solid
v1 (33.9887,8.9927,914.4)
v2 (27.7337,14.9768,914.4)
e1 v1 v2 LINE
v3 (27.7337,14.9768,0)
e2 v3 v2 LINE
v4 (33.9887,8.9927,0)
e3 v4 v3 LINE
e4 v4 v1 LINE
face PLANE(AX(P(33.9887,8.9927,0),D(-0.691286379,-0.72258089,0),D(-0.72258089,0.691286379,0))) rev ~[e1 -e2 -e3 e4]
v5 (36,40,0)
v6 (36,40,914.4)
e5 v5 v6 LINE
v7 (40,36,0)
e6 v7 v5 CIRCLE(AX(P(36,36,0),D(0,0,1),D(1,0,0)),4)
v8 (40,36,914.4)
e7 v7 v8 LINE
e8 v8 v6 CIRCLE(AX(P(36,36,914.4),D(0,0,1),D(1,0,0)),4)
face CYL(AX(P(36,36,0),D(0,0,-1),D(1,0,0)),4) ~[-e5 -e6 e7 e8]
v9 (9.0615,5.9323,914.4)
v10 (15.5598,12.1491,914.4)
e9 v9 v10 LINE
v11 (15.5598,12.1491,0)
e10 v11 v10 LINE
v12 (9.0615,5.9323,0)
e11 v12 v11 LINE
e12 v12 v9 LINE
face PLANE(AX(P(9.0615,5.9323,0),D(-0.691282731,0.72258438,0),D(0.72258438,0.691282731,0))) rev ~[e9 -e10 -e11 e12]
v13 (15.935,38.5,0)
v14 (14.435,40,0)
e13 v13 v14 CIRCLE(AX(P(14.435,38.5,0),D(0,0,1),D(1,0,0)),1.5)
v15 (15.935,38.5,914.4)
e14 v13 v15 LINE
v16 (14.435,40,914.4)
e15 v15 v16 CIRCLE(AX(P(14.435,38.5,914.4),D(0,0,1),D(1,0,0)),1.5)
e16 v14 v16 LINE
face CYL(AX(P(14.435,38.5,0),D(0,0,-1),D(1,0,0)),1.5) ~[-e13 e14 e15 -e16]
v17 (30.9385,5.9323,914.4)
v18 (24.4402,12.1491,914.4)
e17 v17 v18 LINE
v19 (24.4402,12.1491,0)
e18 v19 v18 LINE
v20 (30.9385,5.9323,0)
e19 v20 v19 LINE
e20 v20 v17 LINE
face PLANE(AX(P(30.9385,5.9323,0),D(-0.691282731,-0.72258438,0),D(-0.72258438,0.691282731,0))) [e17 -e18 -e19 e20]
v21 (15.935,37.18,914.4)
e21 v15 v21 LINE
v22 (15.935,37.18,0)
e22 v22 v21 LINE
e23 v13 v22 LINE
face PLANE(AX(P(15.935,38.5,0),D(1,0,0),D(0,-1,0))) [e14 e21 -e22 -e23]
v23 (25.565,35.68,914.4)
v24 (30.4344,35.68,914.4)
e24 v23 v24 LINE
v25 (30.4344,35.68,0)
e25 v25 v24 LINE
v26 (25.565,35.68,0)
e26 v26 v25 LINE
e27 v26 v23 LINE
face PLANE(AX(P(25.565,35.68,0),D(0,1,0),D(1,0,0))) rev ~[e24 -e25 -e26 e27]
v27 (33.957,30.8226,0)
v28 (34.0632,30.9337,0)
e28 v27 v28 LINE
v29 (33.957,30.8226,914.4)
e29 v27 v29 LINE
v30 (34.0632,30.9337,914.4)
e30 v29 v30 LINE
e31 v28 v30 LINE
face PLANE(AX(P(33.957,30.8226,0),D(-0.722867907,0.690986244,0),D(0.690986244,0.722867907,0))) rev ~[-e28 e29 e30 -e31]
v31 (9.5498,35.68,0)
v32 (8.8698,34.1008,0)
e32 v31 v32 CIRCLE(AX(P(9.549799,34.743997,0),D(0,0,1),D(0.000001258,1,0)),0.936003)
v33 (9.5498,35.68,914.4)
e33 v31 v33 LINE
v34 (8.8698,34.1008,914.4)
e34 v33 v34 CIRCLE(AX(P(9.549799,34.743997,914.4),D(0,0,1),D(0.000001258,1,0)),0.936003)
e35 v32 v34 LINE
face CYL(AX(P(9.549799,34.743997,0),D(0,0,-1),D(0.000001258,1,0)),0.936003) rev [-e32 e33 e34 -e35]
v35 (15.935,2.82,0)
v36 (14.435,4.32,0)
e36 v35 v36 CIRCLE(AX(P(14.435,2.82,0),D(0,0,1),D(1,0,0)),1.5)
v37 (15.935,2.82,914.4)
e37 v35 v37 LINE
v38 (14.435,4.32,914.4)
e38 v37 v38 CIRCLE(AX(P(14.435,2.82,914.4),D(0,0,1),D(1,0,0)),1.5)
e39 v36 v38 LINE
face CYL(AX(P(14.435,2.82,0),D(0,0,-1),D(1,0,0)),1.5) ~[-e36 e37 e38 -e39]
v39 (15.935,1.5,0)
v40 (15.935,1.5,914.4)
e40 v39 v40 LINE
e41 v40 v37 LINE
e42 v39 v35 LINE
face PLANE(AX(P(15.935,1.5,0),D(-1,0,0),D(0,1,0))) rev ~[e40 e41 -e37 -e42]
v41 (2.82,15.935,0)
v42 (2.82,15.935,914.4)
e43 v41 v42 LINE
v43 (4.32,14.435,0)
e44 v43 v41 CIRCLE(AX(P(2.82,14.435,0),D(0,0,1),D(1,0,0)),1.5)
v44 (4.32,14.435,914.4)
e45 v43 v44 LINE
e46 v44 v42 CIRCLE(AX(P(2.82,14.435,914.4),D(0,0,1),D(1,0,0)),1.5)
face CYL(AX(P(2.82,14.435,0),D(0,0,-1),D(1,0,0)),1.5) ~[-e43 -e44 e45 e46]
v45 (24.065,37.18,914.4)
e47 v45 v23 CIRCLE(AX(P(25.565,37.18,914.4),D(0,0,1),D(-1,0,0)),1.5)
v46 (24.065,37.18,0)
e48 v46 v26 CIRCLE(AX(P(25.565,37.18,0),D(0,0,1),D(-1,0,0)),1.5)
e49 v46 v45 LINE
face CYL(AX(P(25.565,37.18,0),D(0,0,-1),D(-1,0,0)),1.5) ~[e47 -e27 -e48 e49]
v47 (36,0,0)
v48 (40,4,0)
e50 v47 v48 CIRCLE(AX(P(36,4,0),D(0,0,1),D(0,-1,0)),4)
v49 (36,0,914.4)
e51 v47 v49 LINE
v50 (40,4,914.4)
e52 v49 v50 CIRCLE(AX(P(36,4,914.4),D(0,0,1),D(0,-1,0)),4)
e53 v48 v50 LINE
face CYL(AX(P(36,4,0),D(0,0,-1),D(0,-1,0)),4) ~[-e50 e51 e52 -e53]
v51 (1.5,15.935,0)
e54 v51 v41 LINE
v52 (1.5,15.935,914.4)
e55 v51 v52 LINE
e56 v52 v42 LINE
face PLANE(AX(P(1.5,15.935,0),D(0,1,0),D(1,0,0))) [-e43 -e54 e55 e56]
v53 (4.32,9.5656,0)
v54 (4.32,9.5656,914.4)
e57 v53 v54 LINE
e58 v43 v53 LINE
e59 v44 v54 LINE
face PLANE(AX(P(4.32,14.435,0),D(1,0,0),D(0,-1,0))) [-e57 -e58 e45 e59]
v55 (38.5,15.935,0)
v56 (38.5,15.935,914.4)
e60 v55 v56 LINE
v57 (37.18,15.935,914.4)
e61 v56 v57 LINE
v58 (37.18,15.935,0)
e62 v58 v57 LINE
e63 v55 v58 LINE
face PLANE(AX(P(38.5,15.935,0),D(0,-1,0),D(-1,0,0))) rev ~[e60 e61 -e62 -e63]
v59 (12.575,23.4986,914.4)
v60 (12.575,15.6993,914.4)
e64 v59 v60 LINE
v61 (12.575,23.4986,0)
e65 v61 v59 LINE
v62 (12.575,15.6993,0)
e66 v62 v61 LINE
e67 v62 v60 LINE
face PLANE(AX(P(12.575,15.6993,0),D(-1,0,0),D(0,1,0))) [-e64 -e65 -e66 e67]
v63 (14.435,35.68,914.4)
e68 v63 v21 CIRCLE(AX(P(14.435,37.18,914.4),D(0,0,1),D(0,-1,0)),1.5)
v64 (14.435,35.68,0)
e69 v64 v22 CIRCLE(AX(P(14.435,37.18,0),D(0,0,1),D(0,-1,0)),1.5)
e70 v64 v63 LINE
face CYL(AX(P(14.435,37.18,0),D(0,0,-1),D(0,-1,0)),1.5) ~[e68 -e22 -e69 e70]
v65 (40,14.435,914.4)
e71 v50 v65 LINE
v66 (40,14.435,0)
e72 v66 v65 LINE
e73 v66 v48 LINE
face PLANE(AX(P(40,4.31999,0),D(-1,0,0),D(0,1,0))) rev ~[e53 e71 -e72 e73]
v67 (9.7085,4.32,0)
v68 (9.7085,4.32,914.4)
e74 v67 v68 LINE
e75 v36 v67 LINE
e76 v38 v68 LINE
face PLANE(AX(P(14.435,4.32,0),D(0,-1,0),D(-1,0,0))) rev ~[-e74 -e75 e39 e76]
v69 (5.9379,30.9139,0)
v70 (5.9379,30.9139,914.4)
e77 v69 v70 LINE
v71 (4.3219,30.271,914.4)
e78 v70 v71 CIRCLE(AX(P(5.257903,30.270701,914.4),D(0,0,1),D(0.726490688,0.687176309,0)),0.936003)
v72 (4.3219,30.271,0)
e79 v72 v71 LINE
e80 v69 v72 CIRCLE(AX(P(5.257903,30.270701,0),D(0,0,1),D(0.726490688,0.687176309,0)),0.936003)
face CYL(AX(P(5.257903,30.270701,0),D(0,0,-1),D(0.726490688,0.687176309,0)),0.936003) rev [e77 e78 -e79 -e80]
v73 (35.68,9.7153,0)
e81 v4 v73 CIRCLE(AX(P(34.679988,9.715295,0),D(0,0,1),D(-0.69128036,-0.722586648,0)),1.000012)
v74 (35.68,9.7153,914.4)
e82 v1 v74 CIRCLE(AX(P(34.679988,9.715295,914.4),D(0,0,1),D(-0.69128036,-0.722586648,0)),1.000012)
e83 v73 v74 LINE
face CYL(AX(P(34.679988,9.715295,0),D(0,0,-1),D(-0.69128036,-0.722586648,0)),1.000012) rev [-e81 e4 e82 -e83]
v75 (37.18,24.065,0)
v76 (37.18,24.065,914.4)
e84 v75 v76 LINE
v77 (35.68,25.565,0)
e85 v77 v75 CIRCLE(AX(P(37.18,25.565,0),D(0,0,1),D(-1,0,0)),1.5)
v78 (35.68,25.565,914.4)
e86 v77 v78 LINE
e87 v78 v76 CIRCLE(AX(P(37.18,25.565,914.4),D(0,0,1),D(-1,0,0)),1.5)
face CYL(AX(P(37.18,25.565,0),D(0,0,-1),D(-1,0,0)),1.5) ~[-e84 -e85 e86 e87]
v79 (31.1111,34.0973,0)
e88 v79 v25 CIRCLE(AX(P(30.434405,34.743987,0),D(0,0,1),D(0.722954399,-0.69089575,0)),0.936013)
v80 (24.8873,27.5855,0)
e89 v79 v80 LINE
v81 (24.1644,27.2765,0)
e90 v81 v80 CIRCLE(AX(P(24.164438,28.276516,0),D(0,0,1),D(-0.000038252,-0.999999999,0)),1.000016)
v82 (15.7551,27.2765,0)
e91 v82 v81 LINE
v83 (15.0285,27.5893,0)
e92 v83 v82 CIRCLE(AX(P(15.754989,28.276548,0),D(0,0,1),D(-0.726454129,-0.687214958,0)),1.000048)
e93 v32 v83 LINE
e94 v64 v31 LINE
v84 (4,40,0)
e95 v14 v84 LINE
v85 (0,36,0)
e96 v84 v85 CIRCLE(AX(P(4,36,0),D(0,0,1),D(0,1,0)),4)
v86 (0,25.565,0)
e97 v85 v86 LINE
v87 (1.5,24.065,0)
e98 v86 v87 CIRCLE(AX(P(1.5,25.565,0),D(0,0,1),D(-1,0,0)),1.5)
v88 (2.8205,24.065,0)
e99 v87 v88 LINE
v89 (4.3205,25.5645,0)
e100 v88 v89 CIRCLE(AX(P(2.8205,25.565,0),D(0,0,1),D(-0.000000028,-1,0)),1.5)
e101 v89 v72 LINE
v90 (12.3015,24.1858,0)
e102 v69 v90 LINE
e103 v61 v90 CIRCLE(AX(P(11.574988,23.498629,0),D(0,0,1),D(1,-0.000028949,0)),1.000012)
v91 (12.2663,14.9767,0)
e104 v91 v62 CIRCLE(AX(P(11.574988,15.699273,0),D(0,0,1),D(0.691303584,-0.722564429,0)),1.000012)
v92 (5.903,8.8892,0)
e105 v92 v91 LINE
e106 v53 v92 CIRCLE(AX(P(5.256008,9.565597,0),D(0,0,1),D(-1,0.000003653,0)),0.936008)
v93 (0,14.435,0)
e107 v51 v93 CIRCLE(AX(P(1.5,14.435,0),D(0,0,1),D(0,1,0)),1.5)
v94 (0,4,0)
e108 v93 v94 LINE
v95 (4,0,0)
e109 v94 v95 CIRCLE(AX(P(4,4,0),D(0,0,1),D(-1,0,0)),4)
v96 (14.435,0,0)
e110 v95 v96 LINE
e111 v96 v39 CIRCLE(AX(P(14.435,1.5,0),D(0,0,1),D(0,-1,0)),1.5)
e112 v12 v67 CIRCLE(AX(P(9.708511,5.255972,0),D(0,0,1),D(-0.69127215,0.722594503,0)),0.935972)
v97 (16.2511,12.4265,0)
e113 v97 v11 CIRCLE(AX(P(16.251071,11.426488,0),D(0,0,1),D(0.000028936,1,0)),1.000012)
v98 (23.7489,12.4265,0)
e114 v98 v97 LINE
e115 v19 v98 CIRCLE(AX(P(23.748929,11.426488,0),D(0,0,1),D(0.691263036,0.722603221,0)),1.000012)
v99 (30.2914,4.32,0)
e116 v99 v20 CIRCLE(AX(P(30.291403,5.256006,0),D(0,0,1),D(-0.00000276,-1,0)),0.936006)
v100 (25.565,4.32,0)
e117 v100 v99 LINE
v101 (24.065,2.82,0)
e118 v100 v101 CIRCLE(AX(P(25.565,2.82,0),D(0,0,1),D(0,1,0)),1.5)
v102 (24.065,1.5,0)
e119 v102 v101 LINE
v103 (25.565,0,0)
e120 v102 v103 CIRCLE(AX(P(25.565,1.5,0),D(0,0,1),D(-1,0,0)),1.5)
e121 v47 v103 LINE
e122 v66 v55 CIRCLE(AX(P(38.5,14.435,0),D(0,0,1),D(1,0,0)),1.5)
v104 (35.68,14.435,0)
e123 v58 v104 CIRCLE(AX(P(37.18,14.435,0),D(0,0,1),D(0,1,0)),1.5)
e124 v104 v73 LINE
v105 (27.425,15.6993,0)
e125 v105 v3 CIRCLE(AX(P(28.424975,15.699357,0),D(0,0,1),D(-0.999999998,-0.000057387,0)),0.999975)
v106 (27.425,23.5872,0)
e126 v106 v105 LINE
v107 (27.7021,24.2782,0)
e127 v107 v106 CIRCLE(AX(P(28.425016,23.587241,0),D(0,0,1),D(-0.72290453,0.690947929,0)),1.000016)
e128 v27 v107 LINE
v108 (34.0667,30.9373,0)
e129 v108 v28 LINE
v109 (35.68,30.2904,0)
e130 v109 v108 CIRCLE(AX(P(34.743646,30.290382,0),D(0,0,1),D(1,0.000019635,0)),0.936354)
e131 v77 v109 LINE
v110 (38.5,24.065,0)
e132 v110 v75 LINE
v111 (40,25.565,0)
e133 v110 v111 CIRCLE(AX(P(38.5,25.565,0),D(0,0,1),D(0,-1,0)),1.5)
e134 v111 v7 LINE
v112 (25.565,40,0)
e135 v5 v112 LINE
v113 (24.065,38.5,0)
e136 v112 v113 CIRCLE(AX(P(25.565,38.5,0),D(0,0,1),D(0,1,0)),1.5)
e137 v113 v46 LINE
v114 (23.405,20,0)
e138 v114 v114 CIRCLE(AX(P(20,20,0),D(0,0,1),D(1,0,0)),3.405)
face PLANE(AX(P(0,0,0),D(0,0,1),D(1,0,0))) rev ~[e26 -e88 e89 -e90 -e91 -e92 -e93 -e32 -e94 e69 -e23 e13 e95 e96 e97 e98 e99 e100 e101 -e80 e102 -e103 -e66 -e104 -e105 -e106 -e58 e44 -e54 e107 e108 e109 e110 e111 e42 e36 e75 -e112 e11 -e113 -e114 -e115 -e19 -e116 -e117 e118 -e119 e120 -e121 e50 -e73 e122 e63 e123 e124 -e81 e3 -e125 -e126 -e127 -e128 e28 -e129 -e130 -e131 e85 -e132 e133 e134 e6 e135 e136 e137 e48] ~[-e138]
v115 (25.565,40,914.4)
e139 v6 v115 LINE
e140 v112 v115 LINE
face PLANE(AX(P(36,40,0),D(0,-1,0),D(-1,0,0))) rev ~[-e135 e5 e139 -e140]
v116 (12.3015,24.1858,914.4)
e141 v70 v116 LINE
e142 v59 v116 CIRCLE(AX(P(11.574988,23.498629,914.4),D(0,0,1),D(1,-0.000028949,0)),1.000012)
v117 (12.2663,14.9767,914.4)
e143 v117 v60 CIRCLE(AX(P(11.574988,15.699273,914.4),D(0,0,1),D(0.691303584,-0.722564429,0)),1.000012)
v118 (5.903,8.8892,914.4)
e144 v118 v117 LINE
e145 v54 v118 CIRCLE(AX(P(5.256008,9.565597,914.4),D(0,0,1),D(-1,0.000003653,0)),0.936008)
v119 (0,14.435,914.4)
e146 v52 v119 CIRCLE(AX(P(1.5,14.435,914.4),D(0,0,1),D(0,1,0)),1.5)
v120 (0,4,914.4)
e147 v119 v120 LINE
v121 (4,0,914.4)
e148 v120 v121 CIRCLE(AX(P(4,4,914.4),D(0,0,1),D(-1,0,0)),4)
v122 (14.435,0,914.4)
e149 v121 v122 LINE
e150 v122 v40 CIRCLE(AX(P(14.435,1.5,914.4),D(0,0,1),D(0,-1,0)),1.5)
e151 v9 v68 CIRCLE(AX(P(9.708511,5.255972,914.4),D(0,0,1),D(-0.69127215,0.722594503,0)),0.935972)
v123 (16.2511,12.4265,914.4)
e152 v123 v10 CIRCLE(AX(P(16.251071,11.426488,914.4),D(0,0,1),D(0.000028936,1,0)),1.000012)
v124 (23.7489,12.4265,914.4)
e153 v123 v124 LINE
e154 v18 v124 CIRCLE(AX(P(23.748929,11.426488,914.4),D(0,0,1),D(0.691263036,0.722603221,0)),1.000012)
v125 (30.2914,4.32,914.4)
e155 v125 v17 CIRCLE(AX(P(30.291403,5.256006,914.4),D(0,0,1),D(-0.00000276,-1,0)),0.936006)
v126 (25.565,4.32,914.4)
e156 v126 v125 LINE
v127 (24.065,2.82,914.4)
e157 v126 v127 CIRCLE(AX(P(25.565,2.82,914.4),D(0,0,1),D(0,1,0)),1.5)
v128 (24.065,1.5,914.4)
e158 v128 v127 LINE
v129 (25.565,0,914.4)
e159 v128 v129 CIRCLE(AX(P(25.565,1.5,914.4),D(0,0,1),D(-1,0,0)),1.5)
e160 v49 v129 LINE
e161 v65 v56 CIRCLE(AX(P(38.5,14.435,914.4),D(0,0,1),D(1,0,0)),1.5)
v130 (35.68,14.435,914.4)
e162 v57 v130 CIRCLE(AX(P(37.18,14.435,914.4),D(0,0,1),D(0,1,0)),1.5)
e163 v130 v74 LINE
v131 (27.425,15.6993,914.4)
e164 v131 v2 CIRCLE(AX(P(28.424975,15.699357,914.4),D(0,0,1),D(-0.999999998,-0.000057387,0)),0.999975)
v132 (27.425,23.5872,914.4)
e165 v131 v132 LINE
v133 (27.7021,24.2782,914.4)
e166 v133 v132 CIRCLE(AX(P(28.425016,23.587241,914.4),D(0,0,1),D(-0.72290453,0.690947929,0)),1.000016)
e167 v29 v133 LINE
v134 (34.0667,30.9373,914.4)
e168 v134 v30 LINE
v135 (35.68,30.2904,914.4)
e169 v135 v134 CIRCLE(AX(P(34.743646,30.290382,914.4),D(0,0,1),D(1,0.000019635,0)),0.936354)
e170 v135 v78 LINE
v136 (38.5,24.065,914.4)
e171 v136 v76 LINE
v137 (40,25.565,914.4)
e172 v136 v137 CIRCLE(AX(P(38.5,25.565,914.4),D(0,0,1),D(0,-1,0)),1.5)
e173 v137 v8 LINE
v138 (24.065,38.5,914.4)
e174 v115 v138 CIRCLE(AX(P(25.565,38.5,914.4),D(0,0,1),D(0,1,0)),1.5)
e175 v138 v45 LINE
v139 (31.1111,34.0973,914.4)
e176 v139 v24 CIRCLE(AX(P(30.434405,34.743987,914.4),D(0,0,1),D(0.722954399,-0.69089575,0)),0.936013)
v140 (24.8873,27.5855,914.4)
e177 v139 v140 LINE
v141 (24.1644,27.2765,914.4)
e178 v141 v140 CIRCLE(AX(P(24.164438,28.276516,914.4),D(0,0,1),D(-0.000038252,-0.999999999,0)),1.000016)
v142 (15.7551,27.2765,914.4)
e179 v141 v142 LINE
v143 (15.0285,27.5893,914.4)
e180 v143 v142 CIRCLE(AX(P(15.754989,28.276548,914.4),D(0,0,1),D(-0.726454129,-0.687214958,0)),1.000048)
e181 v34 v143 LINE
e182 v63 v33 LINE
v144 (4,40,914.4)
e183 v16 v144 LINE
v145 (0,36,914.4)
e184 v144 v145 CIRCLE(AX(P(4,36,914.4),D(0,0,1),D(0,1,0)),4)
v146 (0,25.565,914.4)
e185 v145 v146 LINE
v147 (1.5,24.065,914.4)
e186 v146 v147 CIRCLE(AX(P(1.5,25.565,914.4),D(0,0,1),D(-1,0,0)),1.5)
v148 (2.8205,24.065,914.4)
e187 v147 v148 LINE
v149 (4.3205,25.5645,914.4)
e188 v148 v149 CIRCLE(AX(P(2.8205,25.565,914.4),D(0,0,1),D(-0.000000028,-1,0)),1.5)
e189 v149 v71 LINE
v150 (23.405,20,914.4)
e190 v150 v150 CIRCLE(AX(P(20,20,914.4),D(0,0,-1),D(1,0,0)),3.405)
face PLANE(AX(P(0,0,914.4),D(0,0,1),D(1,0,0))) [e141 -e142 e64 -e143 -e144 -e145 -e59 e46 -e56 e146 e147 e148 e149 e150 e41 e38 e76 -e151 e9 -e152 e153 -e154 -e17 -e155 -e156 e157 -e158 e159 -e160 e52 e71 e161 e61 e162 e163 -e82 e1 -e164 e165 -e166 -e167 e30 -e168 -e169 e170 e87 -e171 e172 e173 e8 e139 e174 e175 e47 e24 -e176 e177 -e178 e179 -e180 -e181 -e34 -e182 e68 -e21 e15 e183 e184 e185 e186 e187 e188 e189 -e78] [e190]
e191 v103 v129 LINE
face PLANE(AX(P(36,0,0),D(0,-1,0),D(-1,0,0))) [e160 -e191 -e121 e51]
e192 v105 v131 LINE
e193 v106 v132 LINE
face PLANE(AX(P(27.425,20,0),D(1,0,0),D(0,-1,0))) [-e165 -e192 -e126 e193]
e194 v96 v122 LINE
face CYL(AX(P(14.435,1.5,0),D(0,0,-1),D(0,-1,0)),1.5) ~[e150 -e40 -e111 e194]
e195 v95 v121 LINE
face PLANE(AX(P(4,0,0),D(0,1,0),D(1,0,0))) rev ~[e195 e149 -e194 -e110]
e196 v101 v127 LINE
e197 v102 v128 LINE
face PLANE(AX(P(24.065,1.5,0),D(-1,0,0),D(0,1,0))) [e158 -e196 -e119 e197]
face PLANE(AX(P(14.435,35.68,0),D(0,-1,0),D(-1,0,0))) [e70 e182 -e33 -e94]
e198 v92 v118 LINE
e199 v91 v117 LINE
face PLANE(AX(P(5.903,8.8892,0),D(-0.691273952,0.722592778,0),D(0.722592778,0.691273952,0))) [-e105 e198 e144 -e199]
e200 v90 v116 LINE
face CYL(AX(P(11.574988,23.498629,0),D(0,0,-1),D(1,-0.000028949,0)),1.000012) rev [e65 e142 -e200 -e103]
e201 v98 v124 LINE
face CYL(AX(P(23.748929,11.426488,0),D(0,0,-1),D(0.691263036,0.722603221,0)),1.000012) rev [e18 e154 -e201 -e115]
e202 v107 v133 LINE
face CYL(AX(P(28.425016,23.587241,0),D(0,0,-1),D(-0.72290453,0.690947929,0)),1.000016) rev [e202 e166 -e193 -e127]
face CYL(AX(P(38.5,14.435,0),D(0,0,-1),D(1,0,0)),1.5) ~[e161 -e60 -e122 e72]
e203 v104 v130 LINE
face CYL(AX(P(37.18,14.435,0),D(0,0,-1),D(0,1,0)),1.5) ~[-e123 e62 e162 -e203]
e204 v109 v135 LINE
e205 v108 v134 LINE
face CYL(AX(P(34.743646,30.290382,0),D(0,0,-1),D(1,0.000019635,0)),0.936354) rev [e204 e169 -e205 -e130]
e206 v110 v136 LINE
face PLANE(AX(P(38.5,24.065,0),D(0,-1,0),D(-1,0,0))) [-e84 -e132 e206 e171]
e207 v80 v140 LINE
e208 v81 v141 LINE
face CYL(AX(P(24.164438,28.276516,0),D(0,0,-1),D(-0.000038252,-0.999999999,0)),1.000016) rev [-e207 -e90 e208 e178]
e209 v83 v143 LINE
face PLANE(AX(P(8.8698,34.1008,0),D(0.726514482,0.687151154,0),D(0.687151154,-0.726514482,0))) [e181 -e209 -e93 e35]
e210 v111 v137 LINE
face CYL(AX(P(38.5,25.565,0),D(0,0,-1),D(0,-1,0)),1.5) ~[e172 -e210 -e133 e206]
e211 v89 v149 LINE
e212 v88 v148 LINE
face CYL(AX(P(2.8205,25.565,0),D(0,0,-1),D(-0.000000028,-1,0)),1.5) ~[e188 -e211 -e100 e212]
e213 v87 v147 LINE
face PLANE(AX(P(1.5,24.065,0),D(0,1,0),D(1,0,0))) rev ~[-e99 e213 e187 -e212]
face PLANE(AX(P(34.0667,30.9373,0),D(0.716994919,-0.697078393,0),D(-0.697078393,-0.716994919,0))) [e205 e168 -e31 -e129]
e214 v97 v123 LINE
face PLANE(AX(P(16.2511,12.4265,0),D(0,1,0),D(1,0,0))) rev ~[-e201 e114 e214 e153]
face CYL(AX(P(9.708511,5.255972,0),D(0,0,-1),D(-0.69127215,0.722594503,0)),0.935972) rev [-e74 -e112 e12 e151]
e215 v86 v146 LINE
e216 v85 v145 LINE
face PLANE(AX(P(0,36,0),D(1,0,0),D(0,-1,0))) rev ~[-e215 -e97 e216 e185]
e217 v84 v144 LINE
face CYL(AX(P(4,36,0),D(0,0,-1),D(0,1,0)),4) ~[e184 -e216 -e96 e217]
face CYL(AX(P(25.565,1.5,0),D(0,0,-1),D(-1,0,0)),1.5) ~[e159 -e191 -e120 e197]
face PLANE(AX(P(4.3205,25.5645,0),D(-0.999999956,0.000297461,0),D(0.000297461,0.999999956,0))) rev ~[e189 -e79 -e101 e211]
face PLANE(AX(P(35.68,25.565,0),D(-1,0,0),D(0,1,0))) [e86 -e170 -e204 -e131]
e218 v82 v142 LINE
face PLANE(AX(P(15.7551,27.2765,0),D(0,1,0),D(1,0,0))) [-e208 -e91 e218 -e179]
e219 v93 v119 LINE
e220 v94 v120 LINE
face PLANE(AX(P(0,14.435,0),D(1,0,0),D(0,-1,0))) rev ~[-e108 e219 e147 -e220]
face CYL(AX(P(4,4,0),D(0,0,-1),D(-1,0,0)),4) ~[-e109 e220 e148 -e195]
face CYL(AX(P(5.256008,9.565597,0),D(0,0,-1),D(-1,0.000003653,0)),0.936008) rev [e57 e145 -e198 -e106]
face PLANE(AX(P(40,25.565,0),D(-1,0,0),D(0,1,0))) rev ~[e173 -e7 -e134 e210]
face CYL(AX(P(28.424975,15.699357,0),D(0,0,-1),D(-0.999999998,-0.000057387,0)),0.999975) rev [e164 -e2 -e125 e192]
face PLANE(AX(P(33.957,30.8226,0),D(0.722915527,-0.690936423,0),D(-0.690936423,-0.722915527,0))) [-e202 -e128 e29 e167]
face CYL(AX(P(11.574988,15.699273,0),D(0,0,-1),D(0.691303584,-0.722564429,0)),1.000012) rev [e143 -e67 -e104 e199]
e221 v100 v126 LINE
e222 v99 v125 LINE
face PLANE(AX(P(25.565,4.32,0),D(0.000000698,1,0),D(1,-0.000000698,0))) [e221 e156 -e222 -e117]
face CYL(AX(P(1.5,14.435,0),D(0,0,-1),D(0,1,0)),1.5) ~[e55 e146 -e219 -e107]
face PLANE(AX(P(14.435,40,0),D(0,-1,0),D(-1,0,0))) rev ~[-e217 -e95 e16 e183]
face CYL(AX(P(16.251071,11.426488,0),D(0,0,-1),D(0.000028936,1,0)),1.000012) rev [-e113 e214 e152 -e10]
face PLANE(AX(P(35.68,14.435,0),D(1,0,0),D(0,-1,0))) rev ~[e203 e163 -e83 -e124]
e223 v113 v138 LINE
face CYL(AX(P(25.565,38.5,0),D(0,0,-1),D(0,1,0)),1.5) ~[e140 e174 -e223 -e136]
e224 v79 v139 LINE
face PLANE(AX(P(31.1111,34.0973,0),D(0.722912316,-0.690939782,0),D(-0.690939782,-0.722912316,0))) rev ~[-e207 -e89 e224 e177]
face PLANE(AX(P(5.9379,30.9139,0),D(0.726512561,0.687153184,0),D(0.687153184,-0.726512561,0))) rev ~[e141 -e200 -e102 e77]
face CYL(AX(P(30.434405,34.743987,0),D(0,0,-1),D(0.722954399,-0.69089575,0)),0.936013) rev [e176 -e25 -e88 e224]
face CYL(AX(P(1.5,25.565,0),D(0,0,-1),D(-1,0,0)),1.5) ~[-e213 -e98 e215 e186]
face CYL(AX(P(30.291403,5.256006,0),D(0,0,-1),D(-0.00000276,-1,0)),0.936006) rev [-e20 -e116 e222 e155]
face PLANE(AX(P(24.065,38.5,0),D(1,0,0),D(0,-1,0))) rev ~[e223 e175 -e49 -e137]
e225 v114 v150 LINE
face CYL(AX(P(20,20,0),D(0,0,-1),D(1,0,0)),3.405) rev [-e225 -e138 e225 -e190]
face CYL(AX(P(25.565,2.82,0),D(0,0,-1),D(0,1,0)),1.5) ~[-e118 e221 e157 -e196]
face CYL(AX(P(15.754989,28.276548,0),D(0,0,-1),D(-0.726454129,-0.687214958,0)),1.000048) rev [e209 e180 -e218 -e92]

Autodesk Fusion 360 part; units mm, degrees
sketch "Sketch1" plane through (0, 0, 0) normal (0, 0, 1) x (1, 0, 0)
  line L0 (4, 0) -> (14.435, 0)
  line L1 (40, 0) -> (40, 36)
  line L2 (36, 40) -> (0, 40)
  line L3 (0, 40) -> (0, 4)
  line L4 (0, 0) -> (0, 20)
  line L5 (0, 40) -> (20, 40)
  circle A0 centre (20, 20) radius 3.405
  line L6 (40, 40) -> (24.065, 40)
  line L7 (40, 40) -> (25.565, 40)
  line L8 (40, 40) -> (40, 25.565)
  line L9 (38.5, 24.065) -> (37.18, 24.065)
  line L10 (24.065, 38.5) -> (24.065, 37.18)
  line L11 (25.565, 35.68) -> (30.4344, 35.68)
  line L12 (35.68, 25.565) -> (35.68, 30.2904)
  line L13 (20, 20) -> (20, 40)
  line L14 (20, 20) -> (0, 20)
  line L15 (20, 20) -> (20, 0)
  line L16 (20, 20) -> (40, 20)
  line L17 (14.435, 35.68) -> (9.5498, 35.68)
  line L18 (15.935, 38.5) -> (15.935, 37.18)
  line L19 (4, 40) -> (14.435, 40)
  line L20 (0, 36) -> (0, 25.565)
  line L21 (1.5, 24.065) -> (2.8205, 24.065)
  line L22 (4.3205, 25.5645) -> (4.3219, 30.271)
  line L23 (25.565, 4.32) -> (1890698.4728, 3)
  line L24 (24.065, 1.5) -> (24.065, 2.82)
  line L25 (36, 0) -> (25.565, 0)
  line L26 (40, 4) -> (40, 14.435)
  line L27 (38.5, 15.935) -> (37.18, 15.935)
  line L28 (35.68, 14.435) -> (35.68, 9.7153)
  line L29 (14.435, 4.32) -> (9.7085, 4.32)
  line L30 (15.935, 1.5) -> (15.935, 2.82)
  line L31 (0, 0) -> (15.935, 0)
  line L32 (1.5, 15.935) -> (2.82, 15.935)
  line L33 (4.32, 14.435) -> (4.32, 9.5656)
  line L34 (0, 14.435) -> (0, 0)
  line L35 (0, 0) -> (15.935, 0)
  line L36 (5.9379, 30.9139) -> (12.3015, 24.1858)
  line L37 (8.8698, 34.1008) -> (15.0285, 27.5893)
  line L38 (30.9385, 5.9323) -> (24.4402, 12.1491)
  line L39 (33.9887, 8.9927) -> (27.7337, 14.9768)
  line L40 (5.903, 8.8892) -> (12.2663, 14.9767)
  line L41 (9.0615, 5.9323) -> (15.5598, 12.1491)
  line L42 (31.1111, 34.0973) -> (24.8873, 27.5855)
  line L43 (33.957, 30.8226) -> (27.7021, 24.2782)
  line L44 (27.425, 23.5872) -> (27.425, 15.6993)
  line L45 (16.2511, 12.4265) -> (23.7489, 12.4265)
  line L46 (12.575, 15.6993) -> (12.575, 23.4986)
  line L47 (15.7551, 27.2765) -> (24.1644, 27.2765)
  line L48 (35.68, 30.1316) -> (35.68, 30.2853)
  line L49 (34.0667, 30.9373) -> (34.0632, 30.9337)
  arc A1 (33.9887, 8.9927) -> (35.68, 9.7153) centre (34.68, 9.7153) ccw
  line L50 (35.68, 7.3747) -> (35.68, 9.7153)
  arc A2 (27.7021, 24.2782) -> (27.425, 23.5872) centre (28.425, 23.5872) ccw
  arc A3 (35.68, 30.2904) -> (34.0667, 30.9373) centre (34.7436, 30.2904) ccw
  arc A4 (5.9379, 30.9139) -> (4.3219, 30.271) centre (5.2579, 30.2707) ccw
  arc A5 (12.575, 23.4986) -> (12.3015, 24.1858) centre (11.575, 23.4986) ccw
  arc A6 (12.2663, 14.9767) -> (12.575, 15.6993) centre (11.575, 15.6993) ccw
  arc A7 (4.32, 9.5656) -> (5.903, 8.8892) centre (5.256, 9.5656) ccw
  arc A8 (9.0615, 5.9323) -> (9.7085, 4.32) centre (9.7085, 5.256) ccw
  arc A9 (30.2914, 4.32) -> (30.9385, 5.9323) centre (30.2914, 5.256) ccw
  arc A10 (24.4402, 12.1491) -> (23.7489, 12.4265) centre (23.7489, 11.4265) ccw
  arc A11 (16.2511, 12.4265) -> (15.5598, 12.1491) centre (16.2511, 11.4265) ccw
  arc A12 (27.425, 15.6993) -> (27.7337, 14.9768) centre (28.425, 15.6993) ccw
  arc A13 (24.1644, 27.2765) -> (24.8873, 27.5855) centre (24.1644, 28.2765) ccw
  arc A14 (15.0285, 27.5893) -> (15.7551, 27.2765) centre (15.7551, 28.2765) ccw
  arc A15 (37.18, 15.935) -> (35.68, 14.435) centre (37.18, 14.435) ccw
  arc A16 (40, 14.435) -> (38.5, 15.935) centre (38.5, 14.435) ccw
  arc A17 (35.68, 25.565) -> (37.18, 24.065) centre (37.18, 25.565) ccw
  arc A18 (38.5, 24.065) -> (40, 25.565) centre (38.5, 25.565) ccw
  arc A19 (25.565, 40) -> (24.065, 38.5) centre (25.565, 38.5) ccw
  arc A20 (24.065, 37.18) -> (25.565, 35.68) centre (25.565, 37.18) ccw
  arc A21 (14.435, 35.68) -> (15.935, 37.18) centre (14.435, 37.18) ccw
  arc A22 (15.935, 38.5) -> (14.435, 40) centre (14.435, 38.5) ccw
  arc A23 (2.8205, 24.065) -> (4.3205, 25.5645) centre (2.8205, 25.565) ccw
  arc A24 (0, 25.565) -> (1.5, 24.065) centre (1.5, 25.565) ccw
  arc A25 (4.32, 14.435) -> (2.82, 15.935) centre (2.82, 14.435) ccw
  arc A26 (1.5, 15.935) -> (0, 14.435) centre (1.5, 14.435) ccw
  arc A27 (15.935, 2.82) -> (14.435, 4.32) centre (14.435, 2.82) ccw
  arc A28 (1890698.4728, 0) -> (1890698.4728, 3) centre (1890698.4728, 1.5) ccw
  arc A29 (24.065, 1.5) -> (25.565, 0) centre (25.565, 1.5) ccw
  arc A30 (14.435, 0) -> (15.935, 1.5) centre (14.435, 1.5) ccw
  arc A31 (25.565, 4.32) -> (24.065, 2.82) centre (25.565, 2.82) ccw
  arc A32 (4, 40) -> (0, 36) centre (4, 36) ccw
  arc A33 (0, 4) -> (4, 0) centre (4, 4) ccw
  arc A34 (36, 0) -> (40, 4) centre (36, 4) ccw
  arc A35 (40, 36) -> (36, 40) centre (36, 36) ccw
  arc A36 (9.5498, 35.68) -> (8.8698, 34.1008) centre (9.5498, 34.744) ccw
  arc A37 (31.1111, 34.0973) -> (30.4344, 35.68) centre (30.4344, 34.744) ccw
  line L51 (40, 25.1972) -> (40, 36)
  line L52 (33.957, 30.8226) -> (34.0632, 30.9337)
  point P0 (20, 20)
  point P1 (40, 24.065)
  point P2 (35.68, 24.065)
  point P3 (24.065, 35.68)
  point P4 (35.68, 32.6253)
  point P5 (35.68, 7.3747)
  dimension "d1" = 40
  dimension "d2" = 40
  dimension "d8" = 15.935
  dimension "d9" = 15.935
  dimension "d10" = 4.32
  dimension "d11" = 4.32
  dimension "d16" = 90
  dimension "d17" = 90
  dimension "d22" = 4.32
  dimension "d23" = 4.32
  dimension "d24" = 4.32
  dimension "d25" = 4.32
  dimension "d26" = 8.13
  dimension "d27" = 4.32
  dimension "d28" = 14.85
  dimension "d29" = 14.85
  dimension "d30" = 7.425
  dimension "d31" = 25.2506
  dimension "d32" = 2.34
  dimension "d33" = 2.34
  dimension "d35" = 1
  dimension "d36" = 20.57
  dimension "d37" = 1
  dimension "d38" = 7.9779
  dimension "d39" = 0.9364
  dimension "d40" = 0.936
  dimension "d41" = 1
  dimension "d42" = 1
  dimension "d43" = 0.936
  dimension "d44" = 0.936
  dimension "d45" = 0.936
  dimension "d46" = 1
  dimension "d47" = 1
  dimension "d48" = 1
  dimension "d49" = 1
  dimension "d50" = 1
  dimension "d51" = 1.5
  dimension "d52" = 1.5
  dimension "d53" = 1.5
  dimension "d54" = 1.5
  dimension "d55" = 1.5
  dimension "d56" = 1.5
  dimension "d57" = 1.5
  dimension "d58" = 1.5
  dimension "d59" = 4
  dimension "d60" = 4
  dimension "d61" = 0.936
  dimension "d62" = 0.936
extrude "Extrude1" add sketch "Sketch1" along normal blind 914.4 contours L0 L3 L4 A0 L14 L15 L29 L30 L31 L32 L33 L34 L35 L40 L41 L45 L46 A6 A7 A8 A11 A25 A26 A27 A30 A33 | L2 L3 L5 A0 L13 L14 L17 L18 L19 L20 L21 L22 L36 L37 L46 L47 A4 A5 A14 A21 A22 A23 A24 A32 A36 | L1 L2 A0 L6 L7 L8 L9 L10 L11 L12 L13 L16 L42 L43 L44 L47 L48 L49 A2 A3 A13 A17 A18 A19 A20 A35 A37 L51 L52 | L1 A0 L15 L16 L23 L26 L27 L28 L38 L39 L44 L45 A1 A9 A10 A12 A15 A16 | L1 L23 L24 L25 L26 A29 A31 A34
